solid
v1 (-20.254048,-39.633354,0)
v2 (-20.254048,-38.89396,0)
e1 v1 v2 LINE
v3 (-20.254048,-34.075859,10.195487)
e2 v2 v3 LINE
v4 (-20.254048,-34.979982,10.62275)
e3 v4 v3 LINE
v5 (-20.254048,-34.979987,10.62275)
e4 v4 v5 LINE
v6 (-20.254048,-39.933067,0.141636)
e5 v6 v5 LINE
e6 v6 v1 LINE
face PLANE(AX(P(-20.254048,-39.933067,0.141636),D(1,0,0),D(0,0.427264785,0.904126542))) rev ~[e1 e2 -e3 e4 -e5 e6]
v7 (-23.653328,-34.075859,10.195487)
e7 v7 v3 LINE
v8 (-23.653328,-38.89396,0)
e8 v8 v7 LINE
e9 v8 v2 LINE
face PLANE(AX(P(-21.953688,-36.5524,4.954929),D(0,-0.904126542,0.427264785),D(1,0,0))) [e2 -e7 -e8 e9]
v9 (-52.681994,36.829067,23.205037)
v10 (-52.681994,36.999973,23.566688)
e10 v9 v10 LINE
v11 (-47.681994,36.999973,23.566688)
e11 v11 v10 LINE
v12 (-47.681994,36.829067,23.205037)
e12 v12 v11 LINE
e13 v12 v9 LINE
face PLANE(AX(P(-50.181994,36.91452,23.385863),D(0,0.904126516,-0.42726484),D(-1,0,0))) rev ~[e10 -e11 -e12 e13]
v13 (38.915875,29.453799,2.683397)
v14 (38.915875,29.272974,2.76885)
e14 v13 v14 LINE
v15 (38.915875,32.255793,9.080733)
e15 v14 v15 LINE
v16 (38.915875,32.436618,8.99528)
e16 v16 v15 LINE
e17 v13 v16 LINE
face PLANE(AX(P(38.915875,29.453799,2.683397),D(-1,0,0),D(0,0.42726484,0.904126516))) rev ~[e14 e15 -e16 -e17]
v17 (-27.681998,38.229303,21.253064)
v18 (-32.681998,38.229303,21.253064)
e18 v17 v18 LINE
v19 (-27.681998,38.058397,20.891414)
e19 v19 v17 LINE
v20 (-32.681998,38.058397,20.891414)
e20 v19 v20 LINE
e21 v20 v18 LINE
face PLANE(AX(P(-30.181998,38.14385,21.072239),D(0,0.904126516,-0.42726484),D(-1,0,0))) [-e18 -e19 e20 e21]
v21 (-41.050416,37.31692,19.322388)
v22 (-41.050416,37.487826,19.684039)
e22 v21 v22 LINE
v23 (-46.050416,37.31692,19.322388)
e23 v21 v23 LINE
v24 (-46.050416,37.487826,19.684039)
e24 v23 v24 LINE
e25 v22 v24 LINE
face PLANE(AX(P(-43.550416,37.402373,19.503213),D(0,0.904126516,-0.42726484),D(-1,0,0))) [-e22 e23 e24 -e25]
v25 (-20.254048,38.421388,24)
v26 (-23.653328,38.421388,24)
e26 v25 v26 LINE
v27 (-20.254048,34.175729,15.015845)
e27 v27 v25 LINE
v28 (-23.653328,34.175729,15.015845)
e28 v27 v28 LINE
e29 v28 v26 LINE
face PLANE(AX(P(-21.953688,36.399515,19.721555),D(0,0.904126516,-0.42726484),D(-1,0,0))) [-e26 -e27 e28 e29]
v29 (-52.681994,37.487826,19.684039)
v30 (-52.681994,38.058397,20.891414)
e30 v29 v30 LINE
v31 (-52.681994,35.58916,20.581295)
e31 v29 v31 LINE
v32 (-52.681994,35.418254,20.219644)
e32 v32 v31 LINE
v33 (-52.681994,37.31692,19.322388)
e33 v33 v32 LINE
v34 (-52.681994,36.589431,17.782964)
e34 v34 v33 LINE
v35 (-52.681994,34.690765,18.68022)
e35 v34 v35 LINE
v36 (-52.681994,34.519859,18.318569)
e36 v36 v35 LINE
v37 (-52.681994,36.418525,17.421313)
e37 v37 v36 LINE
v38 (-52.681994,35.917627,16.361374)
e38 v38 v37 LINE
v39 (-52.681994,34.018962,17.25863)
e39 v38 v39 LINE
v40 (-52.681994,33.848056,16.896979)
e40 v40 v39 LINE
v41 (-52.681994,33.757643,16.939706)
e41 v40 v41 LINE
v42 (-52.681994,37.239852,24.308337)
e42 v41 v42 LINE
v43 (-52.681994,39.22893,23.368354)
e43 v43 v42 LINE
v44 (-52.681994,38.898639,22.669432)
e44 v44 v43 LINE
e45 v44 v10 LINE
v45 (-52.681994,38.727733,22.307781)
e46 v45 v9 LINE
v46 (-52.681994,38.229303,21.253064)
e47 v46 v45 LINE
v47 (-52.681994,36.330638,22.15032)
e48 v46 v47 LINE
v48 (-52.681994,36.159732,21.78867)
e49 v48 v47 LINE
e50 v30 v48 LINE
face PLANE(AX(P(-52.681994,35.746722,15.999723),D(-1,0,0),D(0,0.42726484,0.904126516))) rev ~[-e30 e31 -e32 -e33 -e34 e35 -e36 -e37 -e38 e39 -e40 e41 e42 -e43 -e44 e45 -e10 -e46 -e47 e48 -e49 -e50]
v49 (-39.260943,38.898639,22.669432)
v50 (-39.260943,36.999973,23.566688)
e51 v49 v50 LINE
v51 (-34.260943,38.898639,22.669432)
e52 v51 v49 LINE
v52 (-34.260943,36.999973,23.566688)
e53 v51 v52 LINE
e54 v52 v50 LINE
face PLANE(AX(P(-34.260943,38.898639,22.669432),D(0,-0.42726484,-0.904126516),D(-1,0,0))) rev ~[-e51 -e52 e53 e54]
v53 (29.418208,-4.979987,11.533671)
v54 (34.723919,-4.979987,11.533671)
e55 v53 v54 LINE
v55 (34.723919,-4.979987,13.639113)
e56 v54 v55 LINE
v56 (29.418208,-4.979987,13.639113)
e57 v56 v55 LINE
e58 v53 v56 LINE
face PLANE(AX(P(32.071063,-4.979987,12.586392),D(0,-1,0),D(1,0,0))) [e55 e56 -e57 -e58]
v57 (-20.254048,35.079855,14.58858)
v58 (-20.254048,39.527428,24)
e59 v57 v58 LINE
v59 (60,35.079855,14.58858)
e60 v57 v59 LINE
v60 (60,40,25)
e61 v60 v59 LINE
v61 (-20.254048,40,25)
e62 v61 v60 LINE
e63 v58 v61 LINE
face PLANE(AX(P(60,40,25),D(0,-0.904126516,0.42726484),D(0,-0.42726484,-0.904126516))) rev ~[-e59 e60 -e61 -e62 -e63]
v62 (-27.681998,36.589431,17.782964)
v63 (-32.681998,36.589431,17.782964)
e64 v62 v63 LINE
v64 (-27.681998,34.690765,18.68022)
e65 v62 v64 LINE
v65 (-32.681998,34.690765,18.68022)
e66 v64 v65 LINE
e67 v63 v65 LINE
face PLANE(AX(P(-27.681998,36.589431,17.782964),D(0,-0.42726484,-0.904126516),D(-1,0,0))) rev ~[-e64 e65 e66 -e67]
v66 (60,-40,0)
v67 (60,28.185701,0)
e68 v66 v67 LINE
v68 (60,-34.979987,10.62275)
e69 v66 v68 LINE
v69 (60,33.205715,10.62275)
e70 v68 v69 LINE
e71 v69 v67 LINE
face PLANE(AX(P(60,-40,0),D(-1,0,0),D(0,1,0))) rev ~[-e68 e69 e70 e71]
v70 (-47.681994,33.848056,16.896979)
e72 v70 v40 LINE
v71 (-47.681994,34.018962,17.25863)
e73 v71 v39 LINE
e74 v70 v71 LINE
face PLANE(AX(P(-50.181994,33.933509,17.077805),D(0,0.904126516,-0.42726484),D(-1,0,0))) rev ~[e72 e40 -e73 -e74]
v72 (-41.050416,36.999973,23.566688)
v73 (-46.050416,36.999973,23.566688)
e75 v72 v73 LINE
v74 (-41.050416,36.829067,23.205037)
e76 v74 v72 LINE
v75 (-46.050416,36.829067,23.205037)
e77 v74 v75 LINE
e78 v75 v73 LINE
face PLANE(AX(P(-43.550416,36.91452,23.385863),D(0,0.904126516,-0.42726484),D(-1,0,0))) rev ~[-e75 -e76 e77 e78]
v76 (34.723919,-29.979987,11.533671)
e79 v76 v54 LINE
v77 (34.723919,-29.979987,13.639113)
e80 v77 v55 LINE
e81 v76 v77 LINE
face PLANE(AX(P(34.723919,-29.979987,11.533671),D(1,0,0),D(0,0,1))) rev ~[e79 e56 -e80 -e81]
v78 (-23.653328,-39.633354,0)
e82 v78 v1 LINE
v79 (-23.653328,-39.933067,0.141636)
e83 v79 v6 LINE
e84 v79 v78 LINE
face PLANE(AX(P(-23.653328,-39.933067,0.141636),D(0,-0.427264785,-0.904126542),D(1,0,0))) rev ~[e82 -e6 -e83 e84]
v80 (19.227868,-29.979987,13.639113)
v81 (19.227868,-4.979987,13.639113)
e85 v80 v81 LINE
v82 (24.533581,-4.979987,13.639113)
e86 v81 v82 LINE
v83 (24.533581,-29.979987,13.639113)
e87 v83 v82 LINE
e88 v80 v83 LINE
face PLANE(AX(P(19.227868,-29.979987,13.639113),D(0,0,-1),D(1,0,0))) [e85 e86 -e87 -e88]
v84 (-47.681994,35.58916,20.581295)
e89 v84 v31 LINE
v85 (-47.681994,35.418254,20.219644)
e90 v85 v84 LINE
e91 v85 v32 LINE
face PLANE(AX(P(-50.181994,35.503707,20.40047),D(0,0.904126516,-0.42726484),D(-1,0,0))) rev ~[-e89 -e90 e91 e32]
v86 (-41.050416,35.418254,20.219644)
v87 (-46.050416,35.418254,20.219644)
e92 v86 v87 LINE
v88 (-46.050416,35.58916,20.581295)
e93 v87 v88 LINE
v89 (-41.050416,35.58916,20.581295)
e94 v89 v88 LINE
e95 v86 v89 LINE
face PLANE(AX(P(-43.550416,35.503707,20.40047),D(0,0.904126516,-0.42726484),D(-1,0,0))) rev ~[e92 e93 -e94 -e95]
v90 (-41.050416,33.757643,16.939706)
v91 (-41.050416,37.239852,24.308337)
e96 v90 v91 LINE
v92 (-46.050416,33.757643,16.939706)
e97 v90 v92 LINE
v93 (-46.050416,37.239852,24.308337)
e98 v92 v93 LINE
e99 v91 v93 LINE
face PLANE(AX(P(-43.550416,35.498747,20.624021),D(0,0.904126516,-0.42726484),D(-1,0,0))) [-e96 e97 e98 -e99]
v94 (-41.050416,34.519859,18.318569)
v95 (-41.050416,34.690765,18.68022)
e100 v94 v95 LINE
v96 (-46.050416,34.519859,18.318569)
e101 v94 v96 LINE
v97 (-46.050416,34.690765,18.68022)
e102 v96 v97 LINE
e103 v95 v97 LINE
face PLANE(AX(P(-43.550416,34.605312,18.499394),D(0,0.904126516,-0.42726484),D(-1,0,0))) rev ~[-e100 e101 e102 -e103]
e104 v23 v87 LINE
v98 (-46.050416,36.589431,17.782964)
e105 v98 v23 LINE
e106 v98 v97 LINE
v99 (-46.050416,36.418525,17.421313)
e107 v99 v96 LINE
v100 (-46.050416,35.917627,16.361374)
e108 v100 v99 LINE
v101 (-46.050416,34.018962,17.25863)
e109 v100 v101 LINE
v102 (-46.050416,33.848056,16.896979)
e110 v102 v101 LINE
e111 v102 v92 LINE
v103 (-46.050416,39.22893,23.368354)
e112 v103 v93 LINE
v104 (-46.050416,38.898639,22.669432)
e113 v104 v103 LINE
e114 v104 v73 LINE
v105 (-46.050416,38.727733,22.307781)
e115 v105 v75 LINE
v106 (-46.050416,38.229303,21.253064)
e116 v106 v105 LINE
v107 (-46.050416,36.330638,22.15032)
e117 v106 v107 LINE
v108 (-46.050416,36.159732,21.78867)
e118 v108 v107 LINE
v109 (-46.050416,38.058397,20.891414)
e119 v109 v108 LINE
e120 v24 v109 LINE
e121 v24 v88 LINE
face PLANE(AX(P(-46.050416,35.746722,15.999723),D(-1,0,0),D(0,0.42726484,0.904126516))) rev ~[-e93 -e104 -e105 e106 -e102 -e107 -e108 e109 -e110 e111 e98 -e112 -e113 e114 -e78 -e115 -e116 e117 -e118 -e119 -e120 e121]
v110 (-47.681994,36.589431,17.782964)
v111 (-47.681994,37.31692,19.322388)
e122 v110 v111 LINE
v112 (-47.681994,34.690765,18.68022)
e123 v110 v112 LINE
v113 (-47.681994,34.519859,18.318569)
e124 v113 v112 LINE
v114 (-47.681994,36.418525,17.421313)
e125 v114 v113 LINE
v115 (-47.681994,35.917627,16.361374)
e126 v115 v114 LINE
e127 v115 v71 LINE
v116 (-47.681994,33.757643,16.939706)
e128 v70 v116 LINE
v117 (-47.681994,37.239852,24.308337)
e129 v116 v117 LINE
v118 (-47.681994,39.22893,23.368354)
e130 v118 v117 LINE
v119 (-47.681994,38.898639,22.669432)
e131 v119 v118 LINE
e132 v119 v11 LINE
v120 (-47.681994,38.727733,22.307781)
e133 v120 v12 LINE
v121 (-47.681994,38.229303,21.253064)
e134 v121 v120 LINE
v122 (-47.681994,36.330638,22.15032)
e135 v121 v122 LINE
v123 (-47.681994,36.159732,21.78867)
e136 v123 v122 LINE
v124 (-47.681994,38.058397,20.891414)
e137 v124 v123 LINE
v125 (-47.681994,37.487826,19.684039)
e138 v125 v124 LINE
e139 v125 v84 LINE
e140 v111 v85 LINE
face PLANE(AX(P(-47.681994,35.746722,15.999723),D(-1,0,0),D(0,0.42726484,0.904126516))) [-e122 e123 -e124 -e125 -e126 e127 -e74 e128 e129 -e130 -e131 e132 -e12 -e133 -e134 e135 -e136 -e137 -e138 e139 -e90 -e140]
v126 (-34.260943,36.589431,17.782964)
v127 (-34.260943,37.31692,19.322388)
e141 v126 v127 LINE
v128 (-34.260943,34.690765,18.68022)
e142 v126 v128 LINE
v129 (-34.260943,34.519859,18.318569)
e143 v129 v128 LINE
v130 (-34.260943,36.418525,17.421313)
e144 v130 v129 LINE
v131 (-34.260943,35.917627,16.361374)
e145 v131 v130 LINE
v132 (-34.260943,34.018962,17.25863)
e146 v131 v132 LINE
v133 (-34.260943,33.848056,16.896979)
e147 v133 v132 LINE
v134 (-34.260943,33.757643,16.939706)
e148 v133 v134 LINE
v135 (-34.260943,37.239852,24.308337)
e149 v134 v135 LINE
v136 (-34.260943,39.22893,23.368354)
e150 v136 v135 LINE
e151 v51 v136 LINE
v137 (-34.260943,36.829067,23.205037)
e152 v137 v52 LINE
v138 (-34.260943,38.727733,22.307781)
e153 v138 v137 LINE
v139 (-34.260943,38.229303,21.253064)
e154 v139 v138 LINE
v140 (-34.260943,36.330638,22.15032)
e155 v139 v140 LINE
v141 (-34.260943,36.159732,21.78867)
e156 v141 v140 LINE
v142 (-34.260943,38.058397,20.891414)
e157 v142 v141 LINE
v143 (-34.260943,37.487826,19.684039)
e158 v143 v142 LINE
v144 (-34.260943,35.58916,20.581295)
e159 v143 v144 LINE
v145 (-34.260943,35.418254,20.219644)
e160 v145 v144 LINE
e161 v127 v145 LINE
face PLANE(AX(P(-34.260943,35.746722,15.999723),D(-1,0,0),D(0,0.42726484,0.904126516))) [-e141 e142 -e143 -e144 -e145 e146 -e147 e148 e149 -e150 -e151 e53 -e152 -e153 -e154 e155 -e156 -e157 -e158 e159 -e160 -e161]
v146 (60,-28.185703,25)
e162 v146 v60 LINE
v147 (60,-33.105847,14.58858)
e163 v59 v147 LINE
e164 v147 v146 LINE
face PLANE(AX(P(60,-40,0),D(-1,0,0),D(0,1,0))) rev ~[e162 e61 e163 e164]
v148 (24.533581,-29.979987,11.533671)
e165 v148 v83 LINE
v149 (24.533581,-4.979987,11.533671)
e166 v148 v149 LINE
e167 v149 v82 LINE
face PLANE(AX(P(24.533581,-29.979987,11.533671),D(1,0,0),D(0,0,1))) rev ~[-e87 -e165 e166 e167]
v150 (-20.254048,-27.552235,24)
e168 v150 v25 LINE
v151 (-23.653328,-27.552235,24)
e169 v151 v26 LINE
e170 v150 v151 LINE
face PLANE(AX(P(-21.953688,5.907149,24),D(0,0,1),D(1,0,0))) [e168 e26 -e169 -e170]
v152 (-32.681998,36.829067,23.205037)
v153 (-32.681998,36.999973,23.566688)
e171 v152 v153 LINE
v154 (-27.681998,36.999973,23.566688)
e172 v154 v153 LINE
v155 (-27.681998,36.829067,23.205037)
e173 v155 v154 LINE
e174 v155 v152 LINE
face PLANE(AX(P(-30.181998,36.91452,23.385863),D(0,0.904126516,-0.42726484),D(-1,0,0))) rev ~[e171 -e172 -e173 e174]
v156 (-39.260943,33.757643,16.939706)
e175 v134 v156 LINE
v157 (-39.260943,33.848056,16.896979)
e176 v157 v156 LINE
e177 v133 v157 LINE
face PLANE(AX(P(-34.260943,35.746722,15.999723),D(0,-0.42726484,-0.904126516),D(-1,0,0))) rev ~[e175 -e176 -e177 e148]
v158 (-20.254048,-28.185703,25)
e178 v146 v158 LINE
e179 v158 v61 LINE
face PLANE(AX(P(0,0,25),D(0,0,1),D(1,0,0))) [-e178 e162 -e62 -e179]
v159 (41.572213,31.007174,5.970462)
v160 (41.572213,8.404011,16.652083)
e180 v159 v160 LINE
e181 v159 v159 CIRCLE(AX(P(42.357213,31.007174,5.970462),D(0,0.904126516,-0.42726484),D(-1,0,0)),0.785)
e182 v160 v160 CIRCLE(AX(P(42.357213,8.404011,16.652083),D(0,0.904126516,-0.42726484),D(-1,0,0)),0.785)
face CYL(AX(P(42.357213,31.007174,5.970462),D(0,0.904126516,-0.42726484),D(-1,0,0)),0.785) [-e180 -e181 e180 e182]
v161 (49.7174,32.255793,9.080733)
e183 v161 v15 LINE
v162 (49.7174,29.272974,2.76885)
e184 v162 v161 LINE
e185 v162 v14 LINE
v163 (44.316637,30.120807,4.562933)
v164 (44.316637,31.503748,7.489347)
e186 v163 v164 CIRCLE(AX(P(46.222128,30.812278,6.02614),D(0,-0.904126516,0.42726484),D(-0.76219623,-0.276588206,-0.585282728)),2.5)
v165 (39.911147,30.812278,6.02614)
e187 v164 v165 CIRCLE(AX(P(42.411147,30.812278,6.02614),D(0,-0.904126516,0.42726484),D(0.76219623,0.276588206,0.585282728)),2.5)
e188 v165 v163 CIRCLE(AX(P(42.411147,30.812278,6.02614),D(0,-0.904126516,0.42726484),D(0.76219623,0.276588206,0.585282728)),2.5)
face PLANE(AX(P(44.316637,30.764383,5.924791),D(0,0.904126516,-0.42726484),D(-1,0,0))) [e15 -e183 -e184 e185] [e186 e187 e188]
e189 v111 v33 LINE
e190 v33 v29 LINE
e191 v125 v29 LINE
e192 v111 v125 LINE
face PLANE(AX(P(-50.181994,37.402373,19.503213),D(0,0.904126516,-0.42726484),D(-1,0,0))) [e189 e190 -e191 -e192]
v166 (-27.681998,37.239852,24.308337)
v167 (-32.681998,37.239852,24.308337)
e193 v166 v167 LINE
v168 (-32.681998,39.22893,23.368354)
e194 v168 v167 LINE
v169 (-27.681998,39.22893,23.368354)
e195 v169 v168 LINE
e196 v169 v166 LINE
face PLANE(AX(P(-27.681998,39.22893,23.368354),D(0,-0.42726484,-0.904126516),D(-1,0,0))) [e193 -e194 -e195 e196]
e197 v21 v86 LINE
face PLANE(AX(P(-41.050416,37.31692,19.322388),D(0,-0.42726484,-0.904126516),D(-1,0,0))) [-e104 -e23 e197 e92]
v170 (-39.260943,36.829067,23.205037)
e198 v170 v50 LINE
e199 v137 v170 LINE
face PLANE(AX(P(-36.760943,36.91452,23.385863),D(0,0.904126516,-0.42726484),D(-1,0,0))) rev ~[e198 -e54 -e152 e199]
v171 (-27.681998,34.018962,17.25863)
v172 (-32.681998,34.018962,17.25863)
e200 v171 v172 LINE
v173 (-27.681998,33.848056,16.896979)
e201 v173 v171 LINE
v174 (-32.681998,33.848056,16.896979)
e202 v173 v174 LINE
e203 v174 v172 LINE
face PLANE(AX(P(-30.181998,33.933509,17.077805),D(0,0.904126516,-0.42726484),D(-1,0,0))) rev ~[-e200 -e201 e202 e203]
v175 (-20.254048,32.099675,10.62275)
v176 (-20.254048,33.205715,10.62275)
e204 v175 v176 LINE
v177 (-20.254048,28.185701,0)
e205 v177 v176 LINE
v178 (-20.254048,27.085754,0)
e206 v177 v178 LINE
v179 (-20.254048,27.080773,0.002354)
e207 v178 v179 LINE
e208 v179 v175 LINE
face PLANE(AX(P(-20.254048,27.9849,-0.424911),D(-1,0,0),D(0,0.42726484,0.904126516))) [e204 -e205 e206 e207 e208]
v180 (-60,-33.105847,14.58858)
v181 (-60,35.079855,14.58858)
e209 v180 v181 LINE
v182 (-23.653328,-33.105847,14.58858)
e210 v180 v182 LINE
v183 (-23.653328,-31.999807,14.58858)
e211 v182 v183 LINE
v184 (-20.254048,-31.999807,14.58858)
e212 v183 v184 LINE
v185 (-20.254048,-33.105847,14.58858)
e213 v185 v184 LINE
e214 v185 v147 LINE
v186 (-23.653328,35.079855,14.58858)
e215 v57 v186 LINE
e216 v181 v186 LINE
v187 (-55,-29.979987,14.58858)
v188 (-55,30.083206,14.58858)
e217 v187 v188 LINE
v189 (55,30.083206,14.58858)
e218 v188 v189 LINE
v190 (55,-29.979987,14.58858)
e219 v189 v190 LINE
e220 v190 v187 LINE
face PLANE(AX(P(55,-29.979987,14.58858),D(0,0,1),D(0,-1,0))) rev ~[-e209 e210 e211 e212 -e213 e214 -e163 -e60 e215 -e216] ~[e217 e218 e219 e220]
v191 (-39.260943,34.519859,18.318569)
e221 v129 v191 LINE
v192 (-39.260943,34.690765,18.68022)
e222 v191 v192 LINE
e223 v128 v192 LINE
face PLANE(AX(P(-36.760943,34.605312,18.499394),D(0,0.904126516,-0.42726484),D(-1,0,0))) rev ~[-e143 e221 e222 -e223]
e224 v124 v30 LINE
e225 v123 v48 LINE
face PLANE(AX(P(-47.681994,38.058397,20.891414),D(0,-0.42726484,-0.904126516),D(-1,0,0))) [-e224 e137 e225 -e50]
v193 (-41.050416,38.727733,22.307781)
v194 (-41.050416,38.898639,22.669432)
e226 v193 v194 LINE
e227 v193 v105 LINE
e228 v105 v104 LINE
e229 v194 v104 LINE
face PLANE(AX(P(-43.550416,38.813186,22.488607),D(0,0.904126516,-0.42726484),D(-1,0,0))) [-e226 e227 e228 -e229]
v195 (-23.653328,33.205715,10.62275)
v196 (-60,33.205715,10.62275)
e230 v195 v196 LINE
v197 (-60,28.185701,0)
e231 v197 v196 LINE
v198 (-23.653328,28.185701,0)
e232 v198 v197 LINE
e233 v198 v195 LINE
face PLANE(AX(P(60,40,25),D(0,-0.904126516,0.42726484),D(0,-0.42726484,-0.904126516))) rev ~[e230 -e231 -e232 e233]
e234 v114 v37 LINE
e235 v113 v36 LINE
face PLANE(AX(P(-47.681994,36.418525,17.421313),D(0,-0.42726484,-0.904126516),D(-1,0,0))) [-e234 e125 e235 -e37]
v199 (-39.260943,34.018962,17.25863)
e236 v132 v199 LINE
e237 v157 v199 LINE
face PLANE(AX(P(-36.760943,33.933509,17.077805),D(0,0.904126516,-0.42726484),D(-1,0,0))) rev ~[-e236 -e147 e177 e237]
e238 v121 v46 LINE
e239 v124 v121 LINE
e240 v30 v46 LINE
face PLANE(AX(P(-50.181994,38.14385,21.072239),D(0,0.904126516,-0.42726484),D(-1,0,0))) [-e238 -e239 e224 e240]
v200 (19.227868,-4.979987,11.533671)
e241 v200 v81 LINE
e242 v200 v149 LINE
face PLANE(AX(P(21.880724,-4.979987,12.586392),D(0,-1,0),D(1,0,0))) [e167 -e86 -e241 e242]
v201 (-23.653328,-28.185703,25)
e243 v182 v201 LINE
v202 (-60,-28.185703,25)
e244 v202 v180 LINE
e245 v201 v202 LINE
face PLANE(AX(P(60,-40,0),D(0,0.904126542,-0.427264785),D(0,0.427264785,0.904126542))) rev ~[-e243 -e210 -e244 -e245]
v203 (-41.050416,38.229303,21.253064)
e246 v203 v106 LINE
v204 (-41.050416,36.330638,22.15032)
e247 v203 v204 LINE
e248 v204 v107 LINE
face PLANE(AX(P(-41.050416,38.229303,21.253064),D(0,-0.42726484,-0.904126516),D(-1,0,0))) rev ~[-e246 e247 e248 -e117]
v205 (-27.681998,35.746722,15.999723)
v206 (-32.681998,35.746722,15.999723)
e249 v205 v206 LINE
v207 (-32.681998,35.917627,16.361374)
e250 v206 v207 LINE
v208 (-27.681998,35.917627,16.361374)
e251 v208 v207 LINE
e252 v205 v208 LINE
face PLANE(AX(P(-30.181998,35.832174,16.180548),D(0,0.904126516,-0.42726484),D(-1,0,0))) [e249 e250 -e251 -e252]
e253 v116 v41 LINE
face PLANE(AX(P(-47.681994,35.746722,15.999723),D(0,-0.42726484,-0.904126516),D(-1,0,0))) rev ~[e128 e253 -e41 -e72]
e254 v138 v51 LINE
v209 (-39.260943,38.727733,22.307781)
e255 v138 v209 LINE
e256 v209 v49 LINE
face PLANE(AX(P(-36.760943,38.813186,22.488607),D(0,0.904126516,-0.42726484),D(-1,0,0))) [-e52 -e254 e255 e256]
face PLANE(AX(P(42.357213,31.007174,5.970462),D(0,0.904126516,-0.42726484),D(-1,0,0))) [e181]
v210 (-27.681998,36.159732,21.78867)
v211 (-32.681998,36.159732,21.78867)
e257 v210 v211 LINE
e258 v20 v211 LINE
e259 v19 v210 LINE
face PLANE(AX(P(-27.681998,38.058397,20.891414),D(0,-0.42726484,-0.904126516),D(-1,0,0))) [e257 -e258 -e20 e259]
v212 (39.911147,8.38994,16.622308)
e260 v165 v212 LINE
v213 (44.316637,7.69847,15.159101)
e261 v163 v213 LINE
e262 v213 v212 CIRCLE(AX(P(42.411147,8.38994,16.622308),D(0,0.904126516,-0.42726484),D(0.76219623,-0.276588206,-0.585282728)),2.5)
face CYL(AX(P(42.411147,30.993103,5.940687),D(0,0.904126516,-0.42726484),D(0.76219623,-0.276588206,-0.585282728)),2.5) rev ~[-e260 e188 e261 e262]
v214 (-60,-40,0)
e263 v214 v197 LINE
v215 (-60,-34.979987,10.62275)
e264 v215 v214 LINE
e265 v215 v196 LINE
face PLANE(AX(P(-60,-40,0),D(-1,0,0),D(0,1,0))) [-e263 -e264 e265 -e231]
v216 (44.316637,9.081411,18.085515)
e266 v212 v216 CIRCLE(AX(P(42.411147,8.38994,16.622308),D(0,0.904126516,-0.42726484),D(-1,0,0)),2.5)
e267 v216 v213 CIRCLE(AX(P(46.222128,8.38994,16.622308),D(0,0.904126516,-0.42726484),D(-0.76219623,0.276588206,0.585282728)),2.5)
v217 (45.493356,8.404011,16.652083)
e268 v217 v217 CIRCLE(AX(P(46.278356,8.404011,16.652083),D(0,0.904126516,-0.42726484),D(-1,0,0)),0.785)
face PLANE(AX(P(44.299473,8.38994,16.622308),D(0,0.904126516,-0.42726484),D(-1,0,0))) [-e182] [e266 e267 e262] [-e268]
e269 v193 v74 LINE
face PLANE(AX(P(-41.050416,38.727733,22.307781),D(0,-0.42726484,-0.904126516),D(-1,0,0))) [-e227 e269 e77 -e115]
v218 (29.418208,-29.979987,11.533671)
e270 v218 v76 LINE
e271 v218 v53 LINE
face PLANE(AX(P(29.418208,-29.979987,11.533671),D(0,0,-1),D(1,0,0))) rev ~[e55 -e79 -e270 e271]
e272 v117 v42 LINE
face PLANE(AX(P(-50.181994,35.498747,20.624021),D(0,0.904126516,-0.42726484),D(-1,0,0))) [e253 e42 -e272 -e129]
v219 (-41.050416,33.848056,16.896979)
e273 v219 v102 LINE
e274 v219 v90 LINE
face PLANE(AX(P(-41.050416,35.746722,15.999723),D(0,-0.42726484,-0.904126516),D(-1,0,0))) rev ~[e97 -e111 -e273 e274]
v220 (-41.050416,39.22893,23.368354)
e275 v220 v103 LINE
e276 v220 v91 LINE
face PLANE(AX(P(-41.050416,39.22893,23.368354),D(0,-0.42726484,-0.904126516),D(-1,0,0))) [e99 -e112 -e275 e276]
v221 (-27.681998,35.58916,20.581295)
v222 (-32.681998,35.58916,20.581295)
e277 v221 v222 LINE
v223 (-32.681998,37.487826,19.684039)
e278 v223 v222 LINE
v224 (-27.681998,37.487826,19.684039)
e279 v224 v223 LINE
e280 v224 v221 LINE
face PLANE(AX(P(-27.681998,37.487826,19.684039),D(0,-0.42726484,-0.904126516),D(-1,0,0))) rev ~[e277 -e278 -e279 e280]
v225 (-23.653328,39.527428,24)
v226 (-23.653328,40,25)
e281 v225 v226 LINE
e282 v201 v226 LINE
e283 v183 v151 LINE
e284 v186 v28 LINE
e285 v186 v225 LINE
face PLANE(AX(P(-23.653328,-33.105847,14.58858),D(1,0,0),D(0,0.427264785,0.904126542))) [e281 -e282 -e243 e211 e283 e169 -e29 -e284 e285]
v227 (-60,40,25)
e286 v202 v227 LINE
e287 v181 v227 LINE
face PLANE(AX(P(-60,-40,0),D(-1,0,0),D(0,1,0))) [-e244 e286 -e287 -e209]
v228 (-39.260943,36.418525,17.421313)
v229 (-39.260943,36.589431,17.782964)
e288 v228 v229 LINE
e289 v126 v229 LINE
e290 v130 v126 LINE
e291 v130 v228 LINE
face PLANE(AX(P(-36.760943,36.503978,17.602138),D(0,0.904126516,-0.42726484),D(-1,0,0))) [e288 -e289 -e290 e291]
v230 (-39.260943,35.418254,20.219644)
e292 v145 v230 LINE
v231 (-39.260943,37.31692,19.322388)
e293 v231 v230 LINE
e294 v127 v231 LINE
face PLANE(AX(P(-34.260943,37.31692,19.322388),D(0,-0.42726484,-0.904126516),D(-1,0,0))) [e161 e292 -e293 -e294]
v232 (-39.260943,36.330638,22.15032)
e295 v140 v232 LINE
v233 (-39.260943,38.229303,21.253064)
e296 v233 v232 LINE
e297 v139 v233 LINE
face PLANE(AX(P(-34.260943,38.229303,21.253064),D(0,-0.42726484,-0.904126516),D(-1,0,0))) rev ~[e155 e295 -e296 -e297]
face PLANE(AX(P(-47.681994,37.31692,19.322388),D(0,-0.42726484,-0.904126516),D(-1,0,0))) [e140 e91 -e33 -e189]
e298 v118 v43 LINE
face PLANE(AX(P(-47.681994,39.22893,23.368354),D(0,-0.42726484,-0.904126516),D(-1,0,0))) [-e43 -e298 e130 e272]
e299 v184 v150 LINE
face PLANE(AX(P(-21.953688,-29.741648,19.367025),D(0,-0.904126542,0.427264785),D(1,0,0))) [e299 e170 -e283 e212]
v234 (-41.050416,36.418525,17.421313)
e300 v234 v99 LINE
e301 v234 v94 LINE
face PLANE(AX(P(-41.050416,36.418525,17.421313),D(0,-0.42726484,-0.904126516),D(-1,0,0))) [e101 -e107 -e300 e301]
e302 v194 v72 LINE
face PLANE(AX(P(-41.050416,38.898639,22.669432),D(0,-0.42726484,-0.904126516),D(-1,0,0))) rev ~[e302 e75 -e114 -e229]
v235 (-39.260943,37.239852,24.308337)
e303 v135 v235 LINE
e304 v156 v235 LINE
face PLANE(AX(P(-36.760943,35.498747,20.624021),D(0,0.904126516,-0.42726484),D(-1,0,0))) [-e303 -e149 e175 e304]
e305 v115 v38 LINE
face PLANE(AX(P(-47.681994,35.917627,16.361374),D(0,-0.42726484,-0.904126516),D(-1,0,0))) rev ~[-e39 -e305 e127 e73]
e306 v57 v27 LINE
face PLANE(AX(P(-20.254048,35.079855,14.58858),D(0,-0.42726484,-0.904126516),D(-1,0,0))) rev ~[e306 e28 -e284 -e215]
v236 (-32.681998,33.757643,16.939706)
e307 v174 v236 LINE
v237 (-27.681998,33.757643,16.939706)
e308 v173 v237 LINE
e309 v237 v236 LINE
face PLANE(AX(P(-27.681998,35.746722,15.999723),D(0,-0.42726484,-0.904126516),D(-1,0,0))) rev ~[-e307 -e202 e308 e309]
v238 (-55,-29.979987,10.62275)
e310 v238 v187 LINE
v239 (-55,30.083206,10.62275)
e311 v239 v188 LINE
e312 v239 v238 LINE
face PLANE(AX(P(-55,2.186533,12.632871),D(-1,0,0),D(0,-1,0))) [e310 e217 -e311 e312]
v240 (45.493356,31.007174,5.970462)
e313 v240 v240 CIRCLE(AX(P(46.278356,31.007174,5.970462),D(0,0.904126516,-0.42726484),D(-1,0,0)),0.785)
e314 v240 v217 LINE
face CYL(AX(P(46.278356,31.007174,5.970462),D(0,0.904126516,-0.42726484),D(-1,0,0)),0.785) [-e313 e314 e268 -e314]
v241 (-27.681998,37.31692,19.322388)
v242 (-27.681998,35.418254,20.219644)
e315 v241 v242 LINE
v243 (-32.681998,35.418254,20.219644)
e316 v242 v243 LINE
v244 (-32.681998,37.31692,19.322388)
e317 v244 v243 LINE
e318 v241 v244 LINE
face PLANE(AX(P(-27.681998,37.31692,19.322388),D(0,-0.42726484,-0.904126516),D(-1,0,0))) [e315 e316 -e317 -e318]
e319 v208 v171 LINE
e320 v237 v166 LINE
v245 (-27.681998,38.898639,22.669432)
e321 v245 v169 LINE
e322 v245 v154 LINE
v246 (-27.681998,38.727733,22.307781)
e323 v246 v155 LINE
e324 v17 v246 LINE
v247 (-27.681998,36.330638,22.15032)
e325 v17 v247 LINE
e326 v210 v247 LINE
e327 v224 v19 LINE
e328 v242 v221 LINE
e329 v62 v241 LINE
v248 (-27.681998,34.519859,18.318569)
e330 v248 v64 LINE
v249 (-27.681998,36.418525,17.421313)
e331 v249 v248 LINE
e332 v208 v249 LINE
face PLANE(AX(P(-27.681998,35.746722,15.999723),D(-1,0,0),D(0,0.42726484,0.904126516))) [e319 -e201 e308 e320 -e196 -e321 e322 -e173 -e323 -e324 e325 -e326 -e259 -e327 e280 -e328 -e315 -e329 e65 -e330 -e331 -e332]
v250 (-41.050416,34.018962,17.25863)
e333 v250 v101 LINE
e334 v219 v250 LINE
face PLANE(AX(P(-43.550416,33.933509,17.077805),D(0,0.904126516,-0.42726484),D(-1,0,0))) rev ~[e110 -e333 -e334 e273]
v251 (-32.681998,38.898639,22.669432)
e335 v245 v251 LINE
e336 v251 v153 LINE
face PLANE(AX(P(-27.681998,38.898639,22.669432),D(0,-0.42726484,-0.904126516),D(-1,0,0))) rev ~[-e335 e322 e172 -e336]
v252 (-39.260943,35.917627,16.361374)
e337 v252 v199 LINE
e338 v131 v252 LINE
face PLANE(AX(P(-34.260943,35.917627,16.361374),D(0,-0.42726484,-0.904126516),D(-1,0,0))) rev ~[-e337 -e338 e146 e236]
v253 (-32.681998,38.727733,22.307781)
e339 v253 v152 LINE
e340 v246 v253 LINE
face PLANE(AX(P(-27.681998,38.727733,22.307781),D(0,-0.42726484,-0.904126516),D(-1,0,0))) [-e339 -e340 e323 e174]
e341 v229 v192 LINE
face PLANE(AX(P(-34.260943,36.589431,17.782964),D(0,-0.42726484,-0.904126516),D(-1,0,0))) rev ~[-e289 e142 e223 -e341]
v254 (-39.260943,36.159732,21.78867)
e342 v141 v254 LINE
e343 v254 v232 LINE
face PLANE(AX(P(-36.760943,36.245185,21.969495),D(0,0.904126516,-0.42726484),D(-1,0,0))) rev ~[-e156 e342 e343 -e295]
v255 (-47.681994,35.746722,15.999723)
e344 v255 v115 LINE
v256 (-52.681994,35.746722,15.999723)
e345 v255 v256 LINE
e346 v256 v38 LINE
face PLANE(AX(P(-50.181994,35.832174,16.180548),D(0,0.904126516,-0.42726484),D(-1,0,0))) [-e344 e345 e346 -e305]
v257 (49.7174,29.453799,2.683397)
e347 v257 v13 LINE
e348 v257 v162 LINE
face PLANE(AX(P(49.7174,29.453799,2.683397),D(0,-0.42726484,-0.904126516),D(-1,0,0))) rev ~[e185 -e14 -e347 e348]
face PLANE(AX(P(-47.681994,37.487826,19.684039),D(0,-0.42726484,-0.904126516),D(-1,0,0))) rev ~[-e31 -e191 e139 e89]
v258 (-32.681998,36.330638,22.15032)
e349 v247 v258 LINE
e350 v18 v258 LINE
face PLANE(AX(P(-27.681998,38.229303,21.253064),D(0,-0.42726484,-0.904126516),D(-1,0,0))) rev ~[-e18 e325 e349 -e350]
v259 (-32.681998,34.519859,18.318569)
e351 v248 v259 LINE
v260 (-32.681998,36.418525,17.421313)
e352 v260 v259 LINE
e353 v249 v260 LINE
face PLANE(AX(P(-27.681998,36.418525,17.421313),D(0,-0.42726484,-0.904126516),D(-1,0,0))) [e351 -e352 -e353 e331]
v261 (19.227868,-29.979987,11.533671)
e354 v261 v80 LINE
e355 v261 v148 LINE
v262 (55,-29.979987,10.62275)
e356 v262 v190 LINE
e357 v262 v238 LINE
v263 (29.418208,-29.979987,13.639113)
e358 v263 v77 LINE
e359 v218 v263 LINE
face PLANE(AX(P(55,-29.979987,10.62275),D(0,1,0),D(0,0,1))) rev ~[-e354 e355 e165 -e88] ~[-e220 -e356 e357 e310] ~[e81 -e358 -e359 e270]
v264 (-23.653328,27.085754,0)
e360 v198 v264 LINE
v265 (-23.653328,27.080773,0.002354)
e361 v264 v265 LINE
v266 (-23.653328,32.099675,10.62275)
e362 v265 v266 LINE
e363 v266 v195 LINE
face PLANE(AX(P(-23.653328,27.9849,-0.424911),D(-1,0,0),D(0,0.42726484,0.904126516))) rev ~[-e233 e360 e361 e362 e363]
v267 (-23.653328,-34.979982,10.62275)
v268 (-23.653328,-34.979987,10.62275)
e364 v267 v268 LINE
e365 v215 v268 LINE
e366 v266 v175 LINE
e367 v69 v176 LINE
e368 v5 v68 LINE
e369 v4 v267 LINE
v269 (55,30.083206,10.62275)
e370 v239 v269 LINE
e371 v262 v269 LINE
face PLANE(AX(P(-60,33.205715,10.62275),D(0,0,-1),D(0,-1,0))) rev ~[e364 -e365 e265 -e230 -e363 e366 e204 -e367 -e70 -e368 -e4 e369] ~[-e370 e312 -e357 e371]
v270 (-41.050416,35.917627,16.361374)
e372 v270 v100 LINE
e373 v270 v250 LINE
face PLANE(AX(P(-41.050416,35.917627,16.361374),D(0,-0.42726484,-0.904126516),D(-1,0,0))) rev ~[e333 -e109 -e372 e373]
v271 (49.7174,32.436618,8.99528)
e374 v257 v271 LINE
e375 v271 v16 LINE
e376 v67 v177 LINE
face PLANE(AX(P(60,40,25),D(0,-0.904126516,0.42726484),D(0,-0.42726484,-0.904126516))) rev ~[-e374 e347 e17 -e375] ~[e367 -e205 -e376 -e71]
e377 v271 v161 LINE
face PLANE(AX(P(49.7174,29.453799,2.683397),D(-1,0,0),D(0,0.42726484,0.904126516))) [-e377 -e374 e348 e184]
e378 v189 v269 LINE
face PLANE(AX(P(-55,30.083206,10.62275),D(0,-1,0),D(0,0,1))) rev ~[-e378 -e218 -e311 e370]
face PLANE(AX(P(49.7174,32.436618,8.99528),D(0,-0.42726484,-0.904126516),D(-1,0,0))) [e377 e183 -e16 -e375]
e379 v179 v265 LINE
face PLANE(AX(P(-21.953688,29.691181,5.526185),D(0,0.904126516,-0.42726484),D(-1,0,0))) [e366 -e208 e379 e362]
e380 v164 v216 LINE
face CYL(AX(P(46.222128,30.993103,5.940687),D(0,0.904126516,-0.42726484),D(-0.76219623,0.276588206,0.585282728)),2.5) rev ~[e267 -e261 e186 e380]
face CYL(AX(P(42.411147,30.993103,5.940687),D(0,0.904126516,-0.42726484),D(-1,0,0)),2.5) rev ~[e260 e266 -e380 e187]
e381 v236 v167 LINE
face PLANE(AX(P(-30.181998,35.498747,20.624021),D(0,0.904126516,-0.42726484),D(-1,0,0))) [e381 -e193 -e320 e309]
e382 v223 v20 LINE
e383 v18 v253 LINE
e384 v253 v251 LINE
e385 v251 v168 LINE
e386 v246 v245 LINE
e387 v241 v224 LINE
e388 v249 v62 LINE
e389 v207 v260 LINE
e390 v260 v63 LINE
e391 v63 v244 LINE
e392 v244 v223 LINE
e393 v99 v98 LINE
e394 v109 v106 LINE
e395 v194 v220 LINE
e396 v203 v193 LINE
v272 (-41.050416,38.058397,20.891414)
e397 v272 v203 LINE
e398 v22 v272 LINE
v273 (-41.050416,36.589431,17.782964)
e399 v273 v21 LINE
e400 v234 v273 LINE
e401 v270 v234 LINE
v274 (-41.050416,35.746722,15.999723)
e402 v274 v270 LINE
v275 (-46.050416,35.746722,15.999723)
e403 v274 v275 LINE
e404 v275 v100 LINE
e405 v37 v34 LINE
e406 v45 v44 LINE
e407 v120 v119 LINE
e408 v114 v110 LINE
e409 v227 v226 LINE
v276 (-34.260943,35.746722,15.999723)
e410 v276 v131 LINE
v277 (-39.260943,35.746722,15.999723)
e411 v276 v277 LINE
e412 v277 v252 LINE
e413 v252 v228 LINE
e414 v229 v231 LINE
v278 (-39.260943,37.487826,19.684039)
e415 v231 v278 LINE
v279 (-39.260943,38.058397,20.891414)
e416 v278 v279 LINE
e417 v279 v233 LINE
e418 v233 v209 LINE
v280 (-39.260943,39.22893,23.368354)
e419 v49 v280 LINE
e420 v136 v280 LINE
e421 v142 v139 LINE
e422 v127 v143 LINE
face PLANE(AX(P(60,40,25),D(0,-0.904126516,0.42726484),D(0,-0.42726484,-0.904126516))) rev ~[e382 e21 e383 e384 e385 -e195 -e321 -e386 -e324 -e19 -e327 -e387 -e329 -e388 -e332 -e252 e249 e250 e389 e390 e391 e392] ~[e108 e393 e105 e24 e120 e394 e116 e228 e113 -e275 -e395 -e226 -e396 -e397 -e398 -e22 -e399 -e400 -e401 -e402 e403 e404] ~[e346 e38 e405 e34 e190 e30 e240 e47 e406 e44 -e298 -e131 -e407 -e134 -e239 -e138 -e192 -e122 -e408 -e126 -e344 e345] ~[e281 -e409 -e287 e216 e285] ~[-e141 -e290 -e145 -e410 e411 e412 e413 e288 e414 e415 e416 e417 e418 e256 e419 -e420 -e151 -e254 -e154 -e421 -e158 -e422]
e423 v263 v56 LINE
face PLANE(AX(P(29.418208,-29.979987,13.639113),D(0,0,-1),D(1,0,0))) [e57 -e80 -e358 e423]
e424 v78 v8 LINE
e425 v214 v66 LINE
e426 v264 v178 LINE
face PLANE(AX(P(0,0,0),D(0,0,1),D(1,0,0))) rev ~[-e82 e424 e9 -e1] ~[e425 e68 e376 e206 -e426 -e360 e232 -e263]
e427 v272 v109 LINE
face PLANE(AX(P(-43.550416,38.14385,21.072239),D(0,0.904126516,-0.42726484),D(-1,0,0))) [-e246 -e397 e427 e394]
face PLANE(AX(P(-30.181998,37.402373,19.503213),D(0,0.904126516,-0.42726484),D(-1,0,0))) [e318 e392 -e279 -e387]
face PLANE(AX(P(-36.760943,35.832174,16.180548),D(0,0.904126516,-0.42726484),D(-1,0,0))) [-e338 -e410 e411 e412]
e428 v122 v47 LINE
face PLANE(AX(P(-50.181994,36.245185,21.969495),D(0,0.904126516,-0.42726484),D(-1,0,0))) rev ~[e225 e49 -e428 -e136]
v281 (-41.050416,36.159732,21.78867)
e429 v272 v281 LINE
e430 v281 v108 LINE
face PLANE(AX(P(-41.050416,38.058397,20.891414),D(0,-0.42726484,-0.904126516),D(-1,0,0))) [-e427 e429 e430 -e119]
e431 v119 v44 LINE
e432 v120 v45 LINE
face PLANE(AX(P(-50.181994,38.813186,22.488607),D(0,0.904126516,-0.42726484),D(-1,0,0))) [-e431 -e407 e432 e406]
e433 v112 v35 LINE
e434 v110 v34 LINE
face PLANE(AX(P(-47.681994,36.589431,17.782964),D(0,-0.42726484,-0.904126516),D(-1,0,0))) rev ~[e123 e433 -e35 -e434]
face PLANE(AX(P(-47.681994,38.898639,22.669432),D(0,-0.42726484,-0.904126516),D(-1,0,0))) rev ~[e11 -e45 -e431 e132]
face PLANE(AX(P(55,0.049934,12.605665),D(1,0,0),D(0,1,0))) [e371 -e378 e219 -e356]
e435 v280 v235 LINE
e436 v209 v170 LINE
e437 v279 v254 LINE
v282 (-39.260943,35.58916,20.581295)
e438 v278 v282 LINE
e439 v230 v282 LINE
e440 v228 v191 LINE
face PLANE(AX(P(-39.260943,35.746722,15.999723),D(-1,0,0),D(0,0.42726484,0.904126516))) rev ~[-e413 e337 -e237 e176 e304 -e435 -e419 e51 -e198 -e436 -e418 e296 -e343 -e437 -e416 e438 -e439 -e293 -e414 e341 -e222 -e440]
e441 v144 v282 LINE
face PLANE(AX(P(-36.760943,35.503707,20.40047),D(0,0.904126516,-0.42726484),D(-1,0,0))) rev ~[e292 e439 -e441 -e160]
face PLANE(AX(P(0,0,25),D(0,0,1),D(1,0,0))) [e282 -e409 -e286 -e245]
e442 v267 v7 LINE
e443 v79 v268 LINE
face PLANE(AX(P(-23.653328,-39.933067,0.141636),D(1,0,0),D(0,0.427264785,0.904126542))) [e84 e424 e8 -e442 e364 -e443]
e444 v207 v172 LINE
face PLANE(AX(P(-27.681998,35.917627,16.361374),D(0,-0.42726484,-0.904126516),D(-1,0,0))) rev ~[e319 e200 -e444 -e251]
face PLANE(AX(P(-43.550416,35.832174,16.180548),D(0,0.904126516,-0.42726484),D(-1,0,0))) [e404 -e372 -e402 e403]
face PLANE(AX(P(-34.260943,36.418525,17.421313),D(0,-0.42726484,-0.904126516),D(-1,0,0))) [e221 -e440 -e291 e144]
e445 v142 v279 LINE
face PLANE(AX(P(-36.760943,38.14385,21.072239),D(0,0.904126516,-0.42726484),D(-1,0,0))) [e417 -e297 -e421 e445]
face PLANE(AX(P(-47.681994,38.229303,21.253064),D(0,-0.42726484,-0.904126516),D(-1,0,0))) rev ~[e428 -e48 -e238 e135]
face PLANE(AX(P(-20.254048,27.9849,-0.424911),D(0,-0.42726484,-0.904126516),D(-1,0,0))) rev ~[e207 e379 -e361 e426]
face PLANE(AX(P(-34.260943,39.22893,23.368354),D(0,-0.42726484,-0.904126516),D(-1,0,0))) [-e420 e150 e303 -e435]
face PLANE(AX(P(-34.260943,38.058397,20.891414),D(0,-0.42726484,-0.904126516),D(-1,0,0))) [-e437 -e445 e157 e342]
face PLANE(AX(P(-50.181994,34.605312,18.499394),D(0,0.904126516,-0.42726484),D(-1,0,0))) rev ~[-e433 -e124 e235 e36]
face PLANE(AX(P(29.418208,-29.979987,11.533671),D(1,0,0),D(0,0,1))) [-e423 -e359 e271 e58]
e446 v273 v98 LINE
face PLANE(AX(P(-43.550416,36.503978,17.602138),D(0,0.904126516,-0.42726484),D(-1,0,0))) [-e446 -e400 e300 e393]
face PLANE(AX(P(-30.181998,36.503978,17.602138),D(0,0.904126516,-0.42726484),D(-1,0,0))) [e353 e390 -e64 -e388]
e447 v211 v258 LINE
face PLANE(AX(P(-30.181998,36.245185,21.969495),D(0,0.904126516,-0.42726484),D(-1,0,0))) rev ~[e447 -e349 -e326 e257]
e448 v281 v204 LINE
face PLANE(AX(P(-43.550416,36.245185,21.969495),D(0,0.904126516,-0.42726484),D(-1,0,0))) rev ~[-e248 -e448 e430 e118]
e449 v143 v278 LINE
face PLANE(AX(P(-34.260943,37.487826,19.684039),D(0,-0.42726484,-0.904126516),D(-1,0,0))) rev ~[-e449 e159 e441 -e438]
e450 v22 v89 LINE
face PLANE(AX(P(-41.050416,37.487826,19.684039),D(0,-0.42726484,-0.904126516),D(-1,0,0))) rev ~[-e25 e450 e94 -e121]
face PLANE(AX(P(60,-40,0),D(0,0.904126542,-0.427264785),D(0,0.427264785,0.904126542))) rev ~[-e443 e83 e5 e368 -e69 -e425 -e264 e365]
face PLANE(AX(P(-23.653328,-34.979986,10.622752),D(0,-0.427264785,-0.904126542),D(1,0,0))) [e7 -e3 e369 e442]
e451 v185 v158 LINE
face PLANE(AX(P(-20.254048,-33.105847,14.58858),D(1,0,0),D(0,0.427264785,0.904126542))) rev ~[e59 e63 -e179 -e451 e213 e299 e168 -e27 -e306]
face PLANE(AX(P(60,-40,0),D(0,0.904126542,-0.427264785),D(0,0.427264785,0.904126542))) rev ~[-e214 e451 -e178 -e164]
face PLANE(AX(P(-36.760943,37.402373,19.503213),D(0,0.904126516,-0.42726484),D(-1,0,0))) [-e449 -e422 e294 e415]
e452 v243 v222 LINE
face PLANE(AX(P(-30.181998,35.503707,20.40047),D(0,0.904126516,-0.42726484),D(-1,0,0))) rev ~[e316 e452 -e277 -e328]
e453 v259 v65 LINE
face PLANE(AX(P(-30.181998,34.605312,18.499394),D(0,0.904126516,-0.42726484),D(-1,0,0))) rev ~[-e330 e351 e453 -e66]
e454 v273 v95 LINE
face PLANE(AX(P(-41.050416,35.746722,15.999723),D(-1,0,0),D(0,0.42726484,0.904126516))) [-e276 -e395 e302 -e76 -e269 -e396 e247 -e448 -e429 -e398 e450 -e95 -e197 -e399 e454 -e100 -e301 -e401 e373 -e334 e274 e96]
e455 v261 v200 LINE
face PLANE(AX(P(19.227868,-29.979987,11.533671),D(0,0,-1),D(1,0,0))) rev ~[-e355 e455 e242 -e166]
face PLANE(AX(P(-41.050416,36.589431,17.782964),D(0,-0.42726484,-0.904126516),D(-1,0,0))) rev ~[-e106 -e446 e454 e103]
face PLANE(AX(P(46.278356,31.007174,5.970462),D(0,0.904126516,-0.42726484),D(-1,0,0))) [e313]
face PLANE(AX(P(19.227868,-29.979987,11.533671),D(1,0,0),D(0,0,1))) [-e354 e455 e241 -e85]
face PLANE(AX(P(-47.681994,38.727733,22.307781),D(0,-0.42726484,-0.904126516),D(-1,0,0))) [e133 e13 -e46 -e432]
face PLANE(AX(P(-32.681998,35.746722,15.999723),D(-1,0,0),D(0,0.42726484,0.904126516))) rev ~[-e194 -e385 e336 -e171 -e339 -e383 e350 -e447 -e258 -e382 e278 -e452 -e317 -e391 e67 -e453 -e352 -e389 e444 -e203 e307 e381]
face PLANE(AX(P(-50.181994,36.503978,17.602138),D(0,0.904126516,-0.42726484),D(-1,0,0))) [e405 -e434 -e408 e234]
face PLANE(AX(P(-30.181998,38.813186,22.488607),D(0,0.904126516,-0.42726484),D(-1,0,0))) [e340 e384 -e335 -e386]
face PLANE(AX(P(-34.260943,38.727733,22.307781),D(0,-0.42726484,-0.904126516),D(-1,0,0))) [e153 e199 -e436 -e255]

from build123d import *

# Parameters (mm, degrees)
F0_W      = 120
F0_H      = 80
F1_DEPTH  = 25
F3_DEPTH  = 120.001
F5_DEPTH  = 120.001
F7_DEPTH  = 5
F9_DEPTH  = 150
F11_DEPTH = 5
F13_DEPTH = 170
F14_W     = 3.3992808312
F14_H     = 11.5154450741
F14_H_2   = 11.5925325081
F15_DEPTH = 1
F16_W     = 3.3992808312
F16_H     = 68.1857028604
F17_DEPTH = 1
F18_W     = 3.3992808312
F18_H     = 10.4094055069
F18_H_2   = 12.2191561386
F19_DEPTH = 1
F20_W     = 5.3057130426
F20_H     = 2.1054418758
F20_W_2   = 5.30571118
F21_DEPTH = 25
F24_DEPTH = 25
F23_R     = 0.785
F25_DEPTH = 25
F26_W     = 10.8015254887
F26_H     = 6.9811940193
F27_DEPTH = 0.2
F28_W     = 5
F28_H     = 8.15
F29_DEPTH = 2.2
F30_W     = 5
F30_H     = 0.4
F31_DEPTH = 2.1


with BuildPart() as f1:
    # F0 (on Top) → F1 (new body)
    with BuildSketch(Plane.XY):
        Rectangle(F0_W, F0_H)
    extrude(amount=F1_DEPTH)

    # F2 (on face) → F3 (cut, through all)
    with BuildSketch(Plane.YZ.offset(60)):
        Polygon((-40, 0), (-28.1857028604, 25), (-40, 25), align=None)
    extrude(amount=-F3_DEPTH, mode=Mode.SUBTRACT)

    # F4 (on face) → F5 (cut, through all)
    with BuildSketch(Plane.YZ.offset(60)):
        Polygon((40, 0), (40, 25), (28.1857009977, 0), align=None)
    extrude(amount=-F5_DEPTH, mode=Mode.SUBTRACT)

    # F6 (on face) → F7 (cut)
    with BuildSketch(Plane.YZ.offset(60)):
        Polygon((35.0798550639, 14.5885804668), (-33.1058470208, 14.5885804668), (-34.9799869852, 10.6227500364), (33.205714804, 10.6227500364), align=None)
    extrude(amount=-F7_DEPTH, mode=Mode.SUBTRACT)

    # F8 (on face) → F9 (cut)
    with BuildSketch(Plane.YZ.offset(55)):
        Polygon((-33.1058470208, 14.5885804668), (-34.9799869852, 10.6227500364), (-29.9799869852, 10.6227500364), (-29.9799869852, 14.5885804668), align=None)
    extrude(amount=-F9_DEPTH, mode=Mode.SUBTRACT)

    # F10 (on face) → F11 (cut)
    with BuildSketch(Plane(origin=(-60, 0, 0), x_dir=(0, -1, 0), z_dir=(-1, 0, 0))):
        Polygon((29.9799869852, 10.6227500364), (29.9799869852, 14.5885804668), (-35.0798550639, 14.5885804668), (-33.205714804, 10.6227500364), align=None)
    extrude(amount=-F11_DEPTH, mode=Mode.SUBTRACT)

    # F12 (on face) → F13 (cut)
    with BuildSketch(Plane(origin=(-55, 0, 0), x_dir=(0, -1, 0), z_dir=(-1, 0, 0))):
        Polygon((-30.0832055509, 14.5885804668), (-35.0798550639, 14.5885804668), (-33.205714804, 10.6227500364), (-30.0832055509, 10.6227500364), align=None)
    extrude(amount=-F13_DEPTH, mode=Mode.SUBTRACT)

    # F14 (on face) → F15 (cut)
    with BuildSketch(Plane(origin=(0, -32.6977921499, 15.4520572908), x_dir=(1, 0, 0), z_dir=(0, -0.9041265419, 0.4272647847))):
        with Locations((-21.9536880031, 4.8026827457)):
            Rectangle(F14_W, F14_H)
        with Locations((-21.9536880031, -11.1376703717)):
            Rectangle(F14_W, F14_H_2)
    extrude(amount=-F15_DEPTH, mode=Mode.SUBTRACT)

    # F16 (on face) → F17 (cut)
    with BuildSketch(Plane.XY.offset(25)):
        with Locations((-21.9536880031, 5.9071485698)):
            Rectangle(F16_W, F16_H)
    extrude(amount=-F17_DEPTH, mode=Mode.SUBTRACT)

    # F18 (on face) → F19 (cut)
    with BuildSketch(Plane(origin=(0, 23.0402534943, -10.8881777548), x_dir=(-1, 0, 0), z_dir=(0, 0.9041265159, -0.4272648398))):
        with Locations((21.9536880031, 33.3830138355)):
            Rectangle(F18_W, F18_H)
        with Locations((21.9536880031, 17.6823684014)):
            Rectangle(F18_W, F18_H_2)
    extrude(amount=-F19_DEPTH, mode=Mode.SUBTRACT)

    # F20 (on face) → F21 (cut)
    with BuildSketch(Plane.XZ.offset(29.9799869852)):
        with Locations((21.8807244673, 12.5863919966)):
            Rectangle(F20_W, F20_H)
        with Locations((32.071063295, 12.5863919966)):
            Rectangle(F20_W_2, F20_H)
    extrude(amount=-F21_DEPTH, mode=Mode.SUBTRACT)

    # F22 (on face) → F24 (cut)
    with BuildSketch(Plane(origin=(0, 23.0402534943, -10.8881777548), x_dir=(-1, 0, 0), z_dir=(0, 0.9041265159, -0.4272648398))):
        with BuildLine():
            ThreePointArc((-44.3166374787, 16.9950310891), (-43.875457386, 17.751342396), (-43.7221280526, 18.6133962125))
            ThreePointArc((-43.7221280526, 18.6133962125), (-43.875457386, 19.4754500289), (-44.3166374787, 20.2317613358))
            ThreePointArc((-44.3166374787, 20.2317613358), (-44.9111469047, 18.6133962125), (-44.3166374787, 16.9950310891))
        make_face()
        with BuildLine():
            ThreePointArc((-44.3166374787, 16.9950310891), (-44.9111469047, 18.6133962125), (-44.3166374787, 20.2317613358))
            ThreePointArc((-44.3166374787, 20.2317613358), (-48.7221280526, 18.6133962125), (-44.3166374787, 16.9950310891))
        make_face()
        with BuildLine():
            ThreePointArc((-44.3166374787, 20.2317613358), (-43.875457386, 19.4754500289), (-43.7221280526, 18.6133962125))
            ThreePointArc((-43.7221280526, 18.6133962125), (-43.875457386, 17.751342396), (-44.3166374787, 16.9950310891))
            ThreePointArc((-44.3166374787, 16.9950310891), (-41.5490930882, 16.2667255459), (-39.9111469047, 18.6133962125))
            ThreePointArc((-39.9111469047, 18.6133962125), (-41.5490930882, 20.9600668791), (-44.3166374787, 20.2317613358))
        make_face()
    extrude(amount=-F24_DEPTH, mode=Mode.SUBTRACT)

    # F23 (on face) → F25 (join)
    with BuildSketch(Plane(origin=(0, 23.0402534943, -10.8881777548), x_dir=(-1, 0, 0), z_dir=(0, 0.9041265159, -0.4272648398))):
        with Locations((-42.3572132297, 18.6463277787)):
            Circle(F23_R)
        with Locations((-46.2783562048, 18.6463277787)):
            Circle(F23_R)
    extrude(amount=-F25_DEPTH)

    # F26 (on face) → F27 (cut)
    with BuildSketch(Plane(origin=(0, 23.0402534943, -10.8881777548), x_dir=(-1, 0, 0), z_dir=(0, 0.9041265159, -0.4272648398))):
        with Locations((-44.3166374787, 18.5013003647)):
            Rectangle(F26_W, F26_H)
        with BuildLine():
            ThreePointArc((-44.3166374787, 16.9950310891), (-48.7221280526, 18.6133962125), (-44.3166374787, 20.2317613358))
            ThreePointArc((-44.3166374787, 20.2317613358), (-39.9111469047, 18.6133962125), (-44.3166374787, 16.9950310891))
        make_face(mode=Mode.SUBTRACT)
    extrude(amount=-F27_DEPTH, mode=Mode.SUBTRACT)

    # F28 (on face) → F29 (cut)
    with BuildSketch(Plane(origin=(0, 23.0402534943, -10.8881777548), x_dir=(-1, 0, 0), z_dir=(0, 0.9041265159, -0.4272648398))):
        with Locations((50.181994272, 33.814091168)):
            Rectangle(F28_W, F28_H)
        with Locations((43.5504163067, 33.814091168)):
            Rectangle(F28_W, F28_H)
        with Locations((36.7609430726, 33.814091168)):
            Rectangle(F28_W, F28_H)
        with Locations((30.1819981592, 33.814091168)):
            Rectangle(F28_W, F28_H)
    extrude(amount=-F29_DEPTH, mode=Mode.SUBTRACT)

    # F30 (on face) → F31 (join)
    with BuildSketch(Plane(origin=(0, 23.0402534943, -10.8881777548), x_dir=(-1, 0, 0), z_dir=(0, 0.9041265159, -0.4272648398))):
        with Locations((50.181994272, 36.916055125)):
            Rectangle(F30_W, F30_H)
        with Locations((43.5504163067, 36.916055125)):
            Rectangle(F30_W, F30_H)
        with Locations((50.181994272, 35.3494960487)):
            Rectangle(F30_W, F30_H)
        with Locations((43.5504163067, 35.3494960487)):
            Rectangle(F30_W, F30_H)
        with Locations((43.5504163067, 33.614091168)):
            Rectangle(F30_W, F30_H)
        with Locations((50.181994272, 33.614091168)):
            Rectangle(F30_W, F30_H)
        with Locations((50.181994272, 31.5114263117)):
            Rectangle(F30_W, F30_H)
        with Locations((43.5504163067, 31.5114263117)):
            Rectangle(F30_W, F30_H)
        with Locations((43.5504163067, 29.939091168)):
            Rectangle(F30_W, F30_H)
        with Locations((50.181994272, 29.939091168)):
            Rectangle(F30_W, F30_H)
        with Locations((30.1819981592, 36.916055125)):
            Rectangle(F30_W, F30_H)
        with Locations((36.7609430726, 36.916055125)):
            Rectangle(F30_W, F30_H)
        with Locations((36.7609430726, 35.3494960487)):
            Rectangle(F30_W, F30_H)
        with Locations((30.1819981592, 35.3494960487)):
            Rectangle(F30_W, F30_H)
        with Locations((30.1819981592, 33.614091168)):
            Rectangle(F30_W, F30_H)
        with Locations((36.7609430726, 33.614091168)):
            Rectangle(F30_W, F30_H)
        with Locations((30.1819981592, 31.5114263117)):
            Rectangle(F30_W, F30_H)
        with Locations((36.7609430726, 31.5114263117)):
            Rectangle(F30_W, F30_H)
        with Locations((30.1819981592, 29.939091168)):
            Rectangle(F30_W, F30_H)
        with Locations((36.7609430726, 29.939091168)):
            Rectangle(F30_W, F30_H)
    extrude(amount=-F31_DEPTH)


solid = f1.part
